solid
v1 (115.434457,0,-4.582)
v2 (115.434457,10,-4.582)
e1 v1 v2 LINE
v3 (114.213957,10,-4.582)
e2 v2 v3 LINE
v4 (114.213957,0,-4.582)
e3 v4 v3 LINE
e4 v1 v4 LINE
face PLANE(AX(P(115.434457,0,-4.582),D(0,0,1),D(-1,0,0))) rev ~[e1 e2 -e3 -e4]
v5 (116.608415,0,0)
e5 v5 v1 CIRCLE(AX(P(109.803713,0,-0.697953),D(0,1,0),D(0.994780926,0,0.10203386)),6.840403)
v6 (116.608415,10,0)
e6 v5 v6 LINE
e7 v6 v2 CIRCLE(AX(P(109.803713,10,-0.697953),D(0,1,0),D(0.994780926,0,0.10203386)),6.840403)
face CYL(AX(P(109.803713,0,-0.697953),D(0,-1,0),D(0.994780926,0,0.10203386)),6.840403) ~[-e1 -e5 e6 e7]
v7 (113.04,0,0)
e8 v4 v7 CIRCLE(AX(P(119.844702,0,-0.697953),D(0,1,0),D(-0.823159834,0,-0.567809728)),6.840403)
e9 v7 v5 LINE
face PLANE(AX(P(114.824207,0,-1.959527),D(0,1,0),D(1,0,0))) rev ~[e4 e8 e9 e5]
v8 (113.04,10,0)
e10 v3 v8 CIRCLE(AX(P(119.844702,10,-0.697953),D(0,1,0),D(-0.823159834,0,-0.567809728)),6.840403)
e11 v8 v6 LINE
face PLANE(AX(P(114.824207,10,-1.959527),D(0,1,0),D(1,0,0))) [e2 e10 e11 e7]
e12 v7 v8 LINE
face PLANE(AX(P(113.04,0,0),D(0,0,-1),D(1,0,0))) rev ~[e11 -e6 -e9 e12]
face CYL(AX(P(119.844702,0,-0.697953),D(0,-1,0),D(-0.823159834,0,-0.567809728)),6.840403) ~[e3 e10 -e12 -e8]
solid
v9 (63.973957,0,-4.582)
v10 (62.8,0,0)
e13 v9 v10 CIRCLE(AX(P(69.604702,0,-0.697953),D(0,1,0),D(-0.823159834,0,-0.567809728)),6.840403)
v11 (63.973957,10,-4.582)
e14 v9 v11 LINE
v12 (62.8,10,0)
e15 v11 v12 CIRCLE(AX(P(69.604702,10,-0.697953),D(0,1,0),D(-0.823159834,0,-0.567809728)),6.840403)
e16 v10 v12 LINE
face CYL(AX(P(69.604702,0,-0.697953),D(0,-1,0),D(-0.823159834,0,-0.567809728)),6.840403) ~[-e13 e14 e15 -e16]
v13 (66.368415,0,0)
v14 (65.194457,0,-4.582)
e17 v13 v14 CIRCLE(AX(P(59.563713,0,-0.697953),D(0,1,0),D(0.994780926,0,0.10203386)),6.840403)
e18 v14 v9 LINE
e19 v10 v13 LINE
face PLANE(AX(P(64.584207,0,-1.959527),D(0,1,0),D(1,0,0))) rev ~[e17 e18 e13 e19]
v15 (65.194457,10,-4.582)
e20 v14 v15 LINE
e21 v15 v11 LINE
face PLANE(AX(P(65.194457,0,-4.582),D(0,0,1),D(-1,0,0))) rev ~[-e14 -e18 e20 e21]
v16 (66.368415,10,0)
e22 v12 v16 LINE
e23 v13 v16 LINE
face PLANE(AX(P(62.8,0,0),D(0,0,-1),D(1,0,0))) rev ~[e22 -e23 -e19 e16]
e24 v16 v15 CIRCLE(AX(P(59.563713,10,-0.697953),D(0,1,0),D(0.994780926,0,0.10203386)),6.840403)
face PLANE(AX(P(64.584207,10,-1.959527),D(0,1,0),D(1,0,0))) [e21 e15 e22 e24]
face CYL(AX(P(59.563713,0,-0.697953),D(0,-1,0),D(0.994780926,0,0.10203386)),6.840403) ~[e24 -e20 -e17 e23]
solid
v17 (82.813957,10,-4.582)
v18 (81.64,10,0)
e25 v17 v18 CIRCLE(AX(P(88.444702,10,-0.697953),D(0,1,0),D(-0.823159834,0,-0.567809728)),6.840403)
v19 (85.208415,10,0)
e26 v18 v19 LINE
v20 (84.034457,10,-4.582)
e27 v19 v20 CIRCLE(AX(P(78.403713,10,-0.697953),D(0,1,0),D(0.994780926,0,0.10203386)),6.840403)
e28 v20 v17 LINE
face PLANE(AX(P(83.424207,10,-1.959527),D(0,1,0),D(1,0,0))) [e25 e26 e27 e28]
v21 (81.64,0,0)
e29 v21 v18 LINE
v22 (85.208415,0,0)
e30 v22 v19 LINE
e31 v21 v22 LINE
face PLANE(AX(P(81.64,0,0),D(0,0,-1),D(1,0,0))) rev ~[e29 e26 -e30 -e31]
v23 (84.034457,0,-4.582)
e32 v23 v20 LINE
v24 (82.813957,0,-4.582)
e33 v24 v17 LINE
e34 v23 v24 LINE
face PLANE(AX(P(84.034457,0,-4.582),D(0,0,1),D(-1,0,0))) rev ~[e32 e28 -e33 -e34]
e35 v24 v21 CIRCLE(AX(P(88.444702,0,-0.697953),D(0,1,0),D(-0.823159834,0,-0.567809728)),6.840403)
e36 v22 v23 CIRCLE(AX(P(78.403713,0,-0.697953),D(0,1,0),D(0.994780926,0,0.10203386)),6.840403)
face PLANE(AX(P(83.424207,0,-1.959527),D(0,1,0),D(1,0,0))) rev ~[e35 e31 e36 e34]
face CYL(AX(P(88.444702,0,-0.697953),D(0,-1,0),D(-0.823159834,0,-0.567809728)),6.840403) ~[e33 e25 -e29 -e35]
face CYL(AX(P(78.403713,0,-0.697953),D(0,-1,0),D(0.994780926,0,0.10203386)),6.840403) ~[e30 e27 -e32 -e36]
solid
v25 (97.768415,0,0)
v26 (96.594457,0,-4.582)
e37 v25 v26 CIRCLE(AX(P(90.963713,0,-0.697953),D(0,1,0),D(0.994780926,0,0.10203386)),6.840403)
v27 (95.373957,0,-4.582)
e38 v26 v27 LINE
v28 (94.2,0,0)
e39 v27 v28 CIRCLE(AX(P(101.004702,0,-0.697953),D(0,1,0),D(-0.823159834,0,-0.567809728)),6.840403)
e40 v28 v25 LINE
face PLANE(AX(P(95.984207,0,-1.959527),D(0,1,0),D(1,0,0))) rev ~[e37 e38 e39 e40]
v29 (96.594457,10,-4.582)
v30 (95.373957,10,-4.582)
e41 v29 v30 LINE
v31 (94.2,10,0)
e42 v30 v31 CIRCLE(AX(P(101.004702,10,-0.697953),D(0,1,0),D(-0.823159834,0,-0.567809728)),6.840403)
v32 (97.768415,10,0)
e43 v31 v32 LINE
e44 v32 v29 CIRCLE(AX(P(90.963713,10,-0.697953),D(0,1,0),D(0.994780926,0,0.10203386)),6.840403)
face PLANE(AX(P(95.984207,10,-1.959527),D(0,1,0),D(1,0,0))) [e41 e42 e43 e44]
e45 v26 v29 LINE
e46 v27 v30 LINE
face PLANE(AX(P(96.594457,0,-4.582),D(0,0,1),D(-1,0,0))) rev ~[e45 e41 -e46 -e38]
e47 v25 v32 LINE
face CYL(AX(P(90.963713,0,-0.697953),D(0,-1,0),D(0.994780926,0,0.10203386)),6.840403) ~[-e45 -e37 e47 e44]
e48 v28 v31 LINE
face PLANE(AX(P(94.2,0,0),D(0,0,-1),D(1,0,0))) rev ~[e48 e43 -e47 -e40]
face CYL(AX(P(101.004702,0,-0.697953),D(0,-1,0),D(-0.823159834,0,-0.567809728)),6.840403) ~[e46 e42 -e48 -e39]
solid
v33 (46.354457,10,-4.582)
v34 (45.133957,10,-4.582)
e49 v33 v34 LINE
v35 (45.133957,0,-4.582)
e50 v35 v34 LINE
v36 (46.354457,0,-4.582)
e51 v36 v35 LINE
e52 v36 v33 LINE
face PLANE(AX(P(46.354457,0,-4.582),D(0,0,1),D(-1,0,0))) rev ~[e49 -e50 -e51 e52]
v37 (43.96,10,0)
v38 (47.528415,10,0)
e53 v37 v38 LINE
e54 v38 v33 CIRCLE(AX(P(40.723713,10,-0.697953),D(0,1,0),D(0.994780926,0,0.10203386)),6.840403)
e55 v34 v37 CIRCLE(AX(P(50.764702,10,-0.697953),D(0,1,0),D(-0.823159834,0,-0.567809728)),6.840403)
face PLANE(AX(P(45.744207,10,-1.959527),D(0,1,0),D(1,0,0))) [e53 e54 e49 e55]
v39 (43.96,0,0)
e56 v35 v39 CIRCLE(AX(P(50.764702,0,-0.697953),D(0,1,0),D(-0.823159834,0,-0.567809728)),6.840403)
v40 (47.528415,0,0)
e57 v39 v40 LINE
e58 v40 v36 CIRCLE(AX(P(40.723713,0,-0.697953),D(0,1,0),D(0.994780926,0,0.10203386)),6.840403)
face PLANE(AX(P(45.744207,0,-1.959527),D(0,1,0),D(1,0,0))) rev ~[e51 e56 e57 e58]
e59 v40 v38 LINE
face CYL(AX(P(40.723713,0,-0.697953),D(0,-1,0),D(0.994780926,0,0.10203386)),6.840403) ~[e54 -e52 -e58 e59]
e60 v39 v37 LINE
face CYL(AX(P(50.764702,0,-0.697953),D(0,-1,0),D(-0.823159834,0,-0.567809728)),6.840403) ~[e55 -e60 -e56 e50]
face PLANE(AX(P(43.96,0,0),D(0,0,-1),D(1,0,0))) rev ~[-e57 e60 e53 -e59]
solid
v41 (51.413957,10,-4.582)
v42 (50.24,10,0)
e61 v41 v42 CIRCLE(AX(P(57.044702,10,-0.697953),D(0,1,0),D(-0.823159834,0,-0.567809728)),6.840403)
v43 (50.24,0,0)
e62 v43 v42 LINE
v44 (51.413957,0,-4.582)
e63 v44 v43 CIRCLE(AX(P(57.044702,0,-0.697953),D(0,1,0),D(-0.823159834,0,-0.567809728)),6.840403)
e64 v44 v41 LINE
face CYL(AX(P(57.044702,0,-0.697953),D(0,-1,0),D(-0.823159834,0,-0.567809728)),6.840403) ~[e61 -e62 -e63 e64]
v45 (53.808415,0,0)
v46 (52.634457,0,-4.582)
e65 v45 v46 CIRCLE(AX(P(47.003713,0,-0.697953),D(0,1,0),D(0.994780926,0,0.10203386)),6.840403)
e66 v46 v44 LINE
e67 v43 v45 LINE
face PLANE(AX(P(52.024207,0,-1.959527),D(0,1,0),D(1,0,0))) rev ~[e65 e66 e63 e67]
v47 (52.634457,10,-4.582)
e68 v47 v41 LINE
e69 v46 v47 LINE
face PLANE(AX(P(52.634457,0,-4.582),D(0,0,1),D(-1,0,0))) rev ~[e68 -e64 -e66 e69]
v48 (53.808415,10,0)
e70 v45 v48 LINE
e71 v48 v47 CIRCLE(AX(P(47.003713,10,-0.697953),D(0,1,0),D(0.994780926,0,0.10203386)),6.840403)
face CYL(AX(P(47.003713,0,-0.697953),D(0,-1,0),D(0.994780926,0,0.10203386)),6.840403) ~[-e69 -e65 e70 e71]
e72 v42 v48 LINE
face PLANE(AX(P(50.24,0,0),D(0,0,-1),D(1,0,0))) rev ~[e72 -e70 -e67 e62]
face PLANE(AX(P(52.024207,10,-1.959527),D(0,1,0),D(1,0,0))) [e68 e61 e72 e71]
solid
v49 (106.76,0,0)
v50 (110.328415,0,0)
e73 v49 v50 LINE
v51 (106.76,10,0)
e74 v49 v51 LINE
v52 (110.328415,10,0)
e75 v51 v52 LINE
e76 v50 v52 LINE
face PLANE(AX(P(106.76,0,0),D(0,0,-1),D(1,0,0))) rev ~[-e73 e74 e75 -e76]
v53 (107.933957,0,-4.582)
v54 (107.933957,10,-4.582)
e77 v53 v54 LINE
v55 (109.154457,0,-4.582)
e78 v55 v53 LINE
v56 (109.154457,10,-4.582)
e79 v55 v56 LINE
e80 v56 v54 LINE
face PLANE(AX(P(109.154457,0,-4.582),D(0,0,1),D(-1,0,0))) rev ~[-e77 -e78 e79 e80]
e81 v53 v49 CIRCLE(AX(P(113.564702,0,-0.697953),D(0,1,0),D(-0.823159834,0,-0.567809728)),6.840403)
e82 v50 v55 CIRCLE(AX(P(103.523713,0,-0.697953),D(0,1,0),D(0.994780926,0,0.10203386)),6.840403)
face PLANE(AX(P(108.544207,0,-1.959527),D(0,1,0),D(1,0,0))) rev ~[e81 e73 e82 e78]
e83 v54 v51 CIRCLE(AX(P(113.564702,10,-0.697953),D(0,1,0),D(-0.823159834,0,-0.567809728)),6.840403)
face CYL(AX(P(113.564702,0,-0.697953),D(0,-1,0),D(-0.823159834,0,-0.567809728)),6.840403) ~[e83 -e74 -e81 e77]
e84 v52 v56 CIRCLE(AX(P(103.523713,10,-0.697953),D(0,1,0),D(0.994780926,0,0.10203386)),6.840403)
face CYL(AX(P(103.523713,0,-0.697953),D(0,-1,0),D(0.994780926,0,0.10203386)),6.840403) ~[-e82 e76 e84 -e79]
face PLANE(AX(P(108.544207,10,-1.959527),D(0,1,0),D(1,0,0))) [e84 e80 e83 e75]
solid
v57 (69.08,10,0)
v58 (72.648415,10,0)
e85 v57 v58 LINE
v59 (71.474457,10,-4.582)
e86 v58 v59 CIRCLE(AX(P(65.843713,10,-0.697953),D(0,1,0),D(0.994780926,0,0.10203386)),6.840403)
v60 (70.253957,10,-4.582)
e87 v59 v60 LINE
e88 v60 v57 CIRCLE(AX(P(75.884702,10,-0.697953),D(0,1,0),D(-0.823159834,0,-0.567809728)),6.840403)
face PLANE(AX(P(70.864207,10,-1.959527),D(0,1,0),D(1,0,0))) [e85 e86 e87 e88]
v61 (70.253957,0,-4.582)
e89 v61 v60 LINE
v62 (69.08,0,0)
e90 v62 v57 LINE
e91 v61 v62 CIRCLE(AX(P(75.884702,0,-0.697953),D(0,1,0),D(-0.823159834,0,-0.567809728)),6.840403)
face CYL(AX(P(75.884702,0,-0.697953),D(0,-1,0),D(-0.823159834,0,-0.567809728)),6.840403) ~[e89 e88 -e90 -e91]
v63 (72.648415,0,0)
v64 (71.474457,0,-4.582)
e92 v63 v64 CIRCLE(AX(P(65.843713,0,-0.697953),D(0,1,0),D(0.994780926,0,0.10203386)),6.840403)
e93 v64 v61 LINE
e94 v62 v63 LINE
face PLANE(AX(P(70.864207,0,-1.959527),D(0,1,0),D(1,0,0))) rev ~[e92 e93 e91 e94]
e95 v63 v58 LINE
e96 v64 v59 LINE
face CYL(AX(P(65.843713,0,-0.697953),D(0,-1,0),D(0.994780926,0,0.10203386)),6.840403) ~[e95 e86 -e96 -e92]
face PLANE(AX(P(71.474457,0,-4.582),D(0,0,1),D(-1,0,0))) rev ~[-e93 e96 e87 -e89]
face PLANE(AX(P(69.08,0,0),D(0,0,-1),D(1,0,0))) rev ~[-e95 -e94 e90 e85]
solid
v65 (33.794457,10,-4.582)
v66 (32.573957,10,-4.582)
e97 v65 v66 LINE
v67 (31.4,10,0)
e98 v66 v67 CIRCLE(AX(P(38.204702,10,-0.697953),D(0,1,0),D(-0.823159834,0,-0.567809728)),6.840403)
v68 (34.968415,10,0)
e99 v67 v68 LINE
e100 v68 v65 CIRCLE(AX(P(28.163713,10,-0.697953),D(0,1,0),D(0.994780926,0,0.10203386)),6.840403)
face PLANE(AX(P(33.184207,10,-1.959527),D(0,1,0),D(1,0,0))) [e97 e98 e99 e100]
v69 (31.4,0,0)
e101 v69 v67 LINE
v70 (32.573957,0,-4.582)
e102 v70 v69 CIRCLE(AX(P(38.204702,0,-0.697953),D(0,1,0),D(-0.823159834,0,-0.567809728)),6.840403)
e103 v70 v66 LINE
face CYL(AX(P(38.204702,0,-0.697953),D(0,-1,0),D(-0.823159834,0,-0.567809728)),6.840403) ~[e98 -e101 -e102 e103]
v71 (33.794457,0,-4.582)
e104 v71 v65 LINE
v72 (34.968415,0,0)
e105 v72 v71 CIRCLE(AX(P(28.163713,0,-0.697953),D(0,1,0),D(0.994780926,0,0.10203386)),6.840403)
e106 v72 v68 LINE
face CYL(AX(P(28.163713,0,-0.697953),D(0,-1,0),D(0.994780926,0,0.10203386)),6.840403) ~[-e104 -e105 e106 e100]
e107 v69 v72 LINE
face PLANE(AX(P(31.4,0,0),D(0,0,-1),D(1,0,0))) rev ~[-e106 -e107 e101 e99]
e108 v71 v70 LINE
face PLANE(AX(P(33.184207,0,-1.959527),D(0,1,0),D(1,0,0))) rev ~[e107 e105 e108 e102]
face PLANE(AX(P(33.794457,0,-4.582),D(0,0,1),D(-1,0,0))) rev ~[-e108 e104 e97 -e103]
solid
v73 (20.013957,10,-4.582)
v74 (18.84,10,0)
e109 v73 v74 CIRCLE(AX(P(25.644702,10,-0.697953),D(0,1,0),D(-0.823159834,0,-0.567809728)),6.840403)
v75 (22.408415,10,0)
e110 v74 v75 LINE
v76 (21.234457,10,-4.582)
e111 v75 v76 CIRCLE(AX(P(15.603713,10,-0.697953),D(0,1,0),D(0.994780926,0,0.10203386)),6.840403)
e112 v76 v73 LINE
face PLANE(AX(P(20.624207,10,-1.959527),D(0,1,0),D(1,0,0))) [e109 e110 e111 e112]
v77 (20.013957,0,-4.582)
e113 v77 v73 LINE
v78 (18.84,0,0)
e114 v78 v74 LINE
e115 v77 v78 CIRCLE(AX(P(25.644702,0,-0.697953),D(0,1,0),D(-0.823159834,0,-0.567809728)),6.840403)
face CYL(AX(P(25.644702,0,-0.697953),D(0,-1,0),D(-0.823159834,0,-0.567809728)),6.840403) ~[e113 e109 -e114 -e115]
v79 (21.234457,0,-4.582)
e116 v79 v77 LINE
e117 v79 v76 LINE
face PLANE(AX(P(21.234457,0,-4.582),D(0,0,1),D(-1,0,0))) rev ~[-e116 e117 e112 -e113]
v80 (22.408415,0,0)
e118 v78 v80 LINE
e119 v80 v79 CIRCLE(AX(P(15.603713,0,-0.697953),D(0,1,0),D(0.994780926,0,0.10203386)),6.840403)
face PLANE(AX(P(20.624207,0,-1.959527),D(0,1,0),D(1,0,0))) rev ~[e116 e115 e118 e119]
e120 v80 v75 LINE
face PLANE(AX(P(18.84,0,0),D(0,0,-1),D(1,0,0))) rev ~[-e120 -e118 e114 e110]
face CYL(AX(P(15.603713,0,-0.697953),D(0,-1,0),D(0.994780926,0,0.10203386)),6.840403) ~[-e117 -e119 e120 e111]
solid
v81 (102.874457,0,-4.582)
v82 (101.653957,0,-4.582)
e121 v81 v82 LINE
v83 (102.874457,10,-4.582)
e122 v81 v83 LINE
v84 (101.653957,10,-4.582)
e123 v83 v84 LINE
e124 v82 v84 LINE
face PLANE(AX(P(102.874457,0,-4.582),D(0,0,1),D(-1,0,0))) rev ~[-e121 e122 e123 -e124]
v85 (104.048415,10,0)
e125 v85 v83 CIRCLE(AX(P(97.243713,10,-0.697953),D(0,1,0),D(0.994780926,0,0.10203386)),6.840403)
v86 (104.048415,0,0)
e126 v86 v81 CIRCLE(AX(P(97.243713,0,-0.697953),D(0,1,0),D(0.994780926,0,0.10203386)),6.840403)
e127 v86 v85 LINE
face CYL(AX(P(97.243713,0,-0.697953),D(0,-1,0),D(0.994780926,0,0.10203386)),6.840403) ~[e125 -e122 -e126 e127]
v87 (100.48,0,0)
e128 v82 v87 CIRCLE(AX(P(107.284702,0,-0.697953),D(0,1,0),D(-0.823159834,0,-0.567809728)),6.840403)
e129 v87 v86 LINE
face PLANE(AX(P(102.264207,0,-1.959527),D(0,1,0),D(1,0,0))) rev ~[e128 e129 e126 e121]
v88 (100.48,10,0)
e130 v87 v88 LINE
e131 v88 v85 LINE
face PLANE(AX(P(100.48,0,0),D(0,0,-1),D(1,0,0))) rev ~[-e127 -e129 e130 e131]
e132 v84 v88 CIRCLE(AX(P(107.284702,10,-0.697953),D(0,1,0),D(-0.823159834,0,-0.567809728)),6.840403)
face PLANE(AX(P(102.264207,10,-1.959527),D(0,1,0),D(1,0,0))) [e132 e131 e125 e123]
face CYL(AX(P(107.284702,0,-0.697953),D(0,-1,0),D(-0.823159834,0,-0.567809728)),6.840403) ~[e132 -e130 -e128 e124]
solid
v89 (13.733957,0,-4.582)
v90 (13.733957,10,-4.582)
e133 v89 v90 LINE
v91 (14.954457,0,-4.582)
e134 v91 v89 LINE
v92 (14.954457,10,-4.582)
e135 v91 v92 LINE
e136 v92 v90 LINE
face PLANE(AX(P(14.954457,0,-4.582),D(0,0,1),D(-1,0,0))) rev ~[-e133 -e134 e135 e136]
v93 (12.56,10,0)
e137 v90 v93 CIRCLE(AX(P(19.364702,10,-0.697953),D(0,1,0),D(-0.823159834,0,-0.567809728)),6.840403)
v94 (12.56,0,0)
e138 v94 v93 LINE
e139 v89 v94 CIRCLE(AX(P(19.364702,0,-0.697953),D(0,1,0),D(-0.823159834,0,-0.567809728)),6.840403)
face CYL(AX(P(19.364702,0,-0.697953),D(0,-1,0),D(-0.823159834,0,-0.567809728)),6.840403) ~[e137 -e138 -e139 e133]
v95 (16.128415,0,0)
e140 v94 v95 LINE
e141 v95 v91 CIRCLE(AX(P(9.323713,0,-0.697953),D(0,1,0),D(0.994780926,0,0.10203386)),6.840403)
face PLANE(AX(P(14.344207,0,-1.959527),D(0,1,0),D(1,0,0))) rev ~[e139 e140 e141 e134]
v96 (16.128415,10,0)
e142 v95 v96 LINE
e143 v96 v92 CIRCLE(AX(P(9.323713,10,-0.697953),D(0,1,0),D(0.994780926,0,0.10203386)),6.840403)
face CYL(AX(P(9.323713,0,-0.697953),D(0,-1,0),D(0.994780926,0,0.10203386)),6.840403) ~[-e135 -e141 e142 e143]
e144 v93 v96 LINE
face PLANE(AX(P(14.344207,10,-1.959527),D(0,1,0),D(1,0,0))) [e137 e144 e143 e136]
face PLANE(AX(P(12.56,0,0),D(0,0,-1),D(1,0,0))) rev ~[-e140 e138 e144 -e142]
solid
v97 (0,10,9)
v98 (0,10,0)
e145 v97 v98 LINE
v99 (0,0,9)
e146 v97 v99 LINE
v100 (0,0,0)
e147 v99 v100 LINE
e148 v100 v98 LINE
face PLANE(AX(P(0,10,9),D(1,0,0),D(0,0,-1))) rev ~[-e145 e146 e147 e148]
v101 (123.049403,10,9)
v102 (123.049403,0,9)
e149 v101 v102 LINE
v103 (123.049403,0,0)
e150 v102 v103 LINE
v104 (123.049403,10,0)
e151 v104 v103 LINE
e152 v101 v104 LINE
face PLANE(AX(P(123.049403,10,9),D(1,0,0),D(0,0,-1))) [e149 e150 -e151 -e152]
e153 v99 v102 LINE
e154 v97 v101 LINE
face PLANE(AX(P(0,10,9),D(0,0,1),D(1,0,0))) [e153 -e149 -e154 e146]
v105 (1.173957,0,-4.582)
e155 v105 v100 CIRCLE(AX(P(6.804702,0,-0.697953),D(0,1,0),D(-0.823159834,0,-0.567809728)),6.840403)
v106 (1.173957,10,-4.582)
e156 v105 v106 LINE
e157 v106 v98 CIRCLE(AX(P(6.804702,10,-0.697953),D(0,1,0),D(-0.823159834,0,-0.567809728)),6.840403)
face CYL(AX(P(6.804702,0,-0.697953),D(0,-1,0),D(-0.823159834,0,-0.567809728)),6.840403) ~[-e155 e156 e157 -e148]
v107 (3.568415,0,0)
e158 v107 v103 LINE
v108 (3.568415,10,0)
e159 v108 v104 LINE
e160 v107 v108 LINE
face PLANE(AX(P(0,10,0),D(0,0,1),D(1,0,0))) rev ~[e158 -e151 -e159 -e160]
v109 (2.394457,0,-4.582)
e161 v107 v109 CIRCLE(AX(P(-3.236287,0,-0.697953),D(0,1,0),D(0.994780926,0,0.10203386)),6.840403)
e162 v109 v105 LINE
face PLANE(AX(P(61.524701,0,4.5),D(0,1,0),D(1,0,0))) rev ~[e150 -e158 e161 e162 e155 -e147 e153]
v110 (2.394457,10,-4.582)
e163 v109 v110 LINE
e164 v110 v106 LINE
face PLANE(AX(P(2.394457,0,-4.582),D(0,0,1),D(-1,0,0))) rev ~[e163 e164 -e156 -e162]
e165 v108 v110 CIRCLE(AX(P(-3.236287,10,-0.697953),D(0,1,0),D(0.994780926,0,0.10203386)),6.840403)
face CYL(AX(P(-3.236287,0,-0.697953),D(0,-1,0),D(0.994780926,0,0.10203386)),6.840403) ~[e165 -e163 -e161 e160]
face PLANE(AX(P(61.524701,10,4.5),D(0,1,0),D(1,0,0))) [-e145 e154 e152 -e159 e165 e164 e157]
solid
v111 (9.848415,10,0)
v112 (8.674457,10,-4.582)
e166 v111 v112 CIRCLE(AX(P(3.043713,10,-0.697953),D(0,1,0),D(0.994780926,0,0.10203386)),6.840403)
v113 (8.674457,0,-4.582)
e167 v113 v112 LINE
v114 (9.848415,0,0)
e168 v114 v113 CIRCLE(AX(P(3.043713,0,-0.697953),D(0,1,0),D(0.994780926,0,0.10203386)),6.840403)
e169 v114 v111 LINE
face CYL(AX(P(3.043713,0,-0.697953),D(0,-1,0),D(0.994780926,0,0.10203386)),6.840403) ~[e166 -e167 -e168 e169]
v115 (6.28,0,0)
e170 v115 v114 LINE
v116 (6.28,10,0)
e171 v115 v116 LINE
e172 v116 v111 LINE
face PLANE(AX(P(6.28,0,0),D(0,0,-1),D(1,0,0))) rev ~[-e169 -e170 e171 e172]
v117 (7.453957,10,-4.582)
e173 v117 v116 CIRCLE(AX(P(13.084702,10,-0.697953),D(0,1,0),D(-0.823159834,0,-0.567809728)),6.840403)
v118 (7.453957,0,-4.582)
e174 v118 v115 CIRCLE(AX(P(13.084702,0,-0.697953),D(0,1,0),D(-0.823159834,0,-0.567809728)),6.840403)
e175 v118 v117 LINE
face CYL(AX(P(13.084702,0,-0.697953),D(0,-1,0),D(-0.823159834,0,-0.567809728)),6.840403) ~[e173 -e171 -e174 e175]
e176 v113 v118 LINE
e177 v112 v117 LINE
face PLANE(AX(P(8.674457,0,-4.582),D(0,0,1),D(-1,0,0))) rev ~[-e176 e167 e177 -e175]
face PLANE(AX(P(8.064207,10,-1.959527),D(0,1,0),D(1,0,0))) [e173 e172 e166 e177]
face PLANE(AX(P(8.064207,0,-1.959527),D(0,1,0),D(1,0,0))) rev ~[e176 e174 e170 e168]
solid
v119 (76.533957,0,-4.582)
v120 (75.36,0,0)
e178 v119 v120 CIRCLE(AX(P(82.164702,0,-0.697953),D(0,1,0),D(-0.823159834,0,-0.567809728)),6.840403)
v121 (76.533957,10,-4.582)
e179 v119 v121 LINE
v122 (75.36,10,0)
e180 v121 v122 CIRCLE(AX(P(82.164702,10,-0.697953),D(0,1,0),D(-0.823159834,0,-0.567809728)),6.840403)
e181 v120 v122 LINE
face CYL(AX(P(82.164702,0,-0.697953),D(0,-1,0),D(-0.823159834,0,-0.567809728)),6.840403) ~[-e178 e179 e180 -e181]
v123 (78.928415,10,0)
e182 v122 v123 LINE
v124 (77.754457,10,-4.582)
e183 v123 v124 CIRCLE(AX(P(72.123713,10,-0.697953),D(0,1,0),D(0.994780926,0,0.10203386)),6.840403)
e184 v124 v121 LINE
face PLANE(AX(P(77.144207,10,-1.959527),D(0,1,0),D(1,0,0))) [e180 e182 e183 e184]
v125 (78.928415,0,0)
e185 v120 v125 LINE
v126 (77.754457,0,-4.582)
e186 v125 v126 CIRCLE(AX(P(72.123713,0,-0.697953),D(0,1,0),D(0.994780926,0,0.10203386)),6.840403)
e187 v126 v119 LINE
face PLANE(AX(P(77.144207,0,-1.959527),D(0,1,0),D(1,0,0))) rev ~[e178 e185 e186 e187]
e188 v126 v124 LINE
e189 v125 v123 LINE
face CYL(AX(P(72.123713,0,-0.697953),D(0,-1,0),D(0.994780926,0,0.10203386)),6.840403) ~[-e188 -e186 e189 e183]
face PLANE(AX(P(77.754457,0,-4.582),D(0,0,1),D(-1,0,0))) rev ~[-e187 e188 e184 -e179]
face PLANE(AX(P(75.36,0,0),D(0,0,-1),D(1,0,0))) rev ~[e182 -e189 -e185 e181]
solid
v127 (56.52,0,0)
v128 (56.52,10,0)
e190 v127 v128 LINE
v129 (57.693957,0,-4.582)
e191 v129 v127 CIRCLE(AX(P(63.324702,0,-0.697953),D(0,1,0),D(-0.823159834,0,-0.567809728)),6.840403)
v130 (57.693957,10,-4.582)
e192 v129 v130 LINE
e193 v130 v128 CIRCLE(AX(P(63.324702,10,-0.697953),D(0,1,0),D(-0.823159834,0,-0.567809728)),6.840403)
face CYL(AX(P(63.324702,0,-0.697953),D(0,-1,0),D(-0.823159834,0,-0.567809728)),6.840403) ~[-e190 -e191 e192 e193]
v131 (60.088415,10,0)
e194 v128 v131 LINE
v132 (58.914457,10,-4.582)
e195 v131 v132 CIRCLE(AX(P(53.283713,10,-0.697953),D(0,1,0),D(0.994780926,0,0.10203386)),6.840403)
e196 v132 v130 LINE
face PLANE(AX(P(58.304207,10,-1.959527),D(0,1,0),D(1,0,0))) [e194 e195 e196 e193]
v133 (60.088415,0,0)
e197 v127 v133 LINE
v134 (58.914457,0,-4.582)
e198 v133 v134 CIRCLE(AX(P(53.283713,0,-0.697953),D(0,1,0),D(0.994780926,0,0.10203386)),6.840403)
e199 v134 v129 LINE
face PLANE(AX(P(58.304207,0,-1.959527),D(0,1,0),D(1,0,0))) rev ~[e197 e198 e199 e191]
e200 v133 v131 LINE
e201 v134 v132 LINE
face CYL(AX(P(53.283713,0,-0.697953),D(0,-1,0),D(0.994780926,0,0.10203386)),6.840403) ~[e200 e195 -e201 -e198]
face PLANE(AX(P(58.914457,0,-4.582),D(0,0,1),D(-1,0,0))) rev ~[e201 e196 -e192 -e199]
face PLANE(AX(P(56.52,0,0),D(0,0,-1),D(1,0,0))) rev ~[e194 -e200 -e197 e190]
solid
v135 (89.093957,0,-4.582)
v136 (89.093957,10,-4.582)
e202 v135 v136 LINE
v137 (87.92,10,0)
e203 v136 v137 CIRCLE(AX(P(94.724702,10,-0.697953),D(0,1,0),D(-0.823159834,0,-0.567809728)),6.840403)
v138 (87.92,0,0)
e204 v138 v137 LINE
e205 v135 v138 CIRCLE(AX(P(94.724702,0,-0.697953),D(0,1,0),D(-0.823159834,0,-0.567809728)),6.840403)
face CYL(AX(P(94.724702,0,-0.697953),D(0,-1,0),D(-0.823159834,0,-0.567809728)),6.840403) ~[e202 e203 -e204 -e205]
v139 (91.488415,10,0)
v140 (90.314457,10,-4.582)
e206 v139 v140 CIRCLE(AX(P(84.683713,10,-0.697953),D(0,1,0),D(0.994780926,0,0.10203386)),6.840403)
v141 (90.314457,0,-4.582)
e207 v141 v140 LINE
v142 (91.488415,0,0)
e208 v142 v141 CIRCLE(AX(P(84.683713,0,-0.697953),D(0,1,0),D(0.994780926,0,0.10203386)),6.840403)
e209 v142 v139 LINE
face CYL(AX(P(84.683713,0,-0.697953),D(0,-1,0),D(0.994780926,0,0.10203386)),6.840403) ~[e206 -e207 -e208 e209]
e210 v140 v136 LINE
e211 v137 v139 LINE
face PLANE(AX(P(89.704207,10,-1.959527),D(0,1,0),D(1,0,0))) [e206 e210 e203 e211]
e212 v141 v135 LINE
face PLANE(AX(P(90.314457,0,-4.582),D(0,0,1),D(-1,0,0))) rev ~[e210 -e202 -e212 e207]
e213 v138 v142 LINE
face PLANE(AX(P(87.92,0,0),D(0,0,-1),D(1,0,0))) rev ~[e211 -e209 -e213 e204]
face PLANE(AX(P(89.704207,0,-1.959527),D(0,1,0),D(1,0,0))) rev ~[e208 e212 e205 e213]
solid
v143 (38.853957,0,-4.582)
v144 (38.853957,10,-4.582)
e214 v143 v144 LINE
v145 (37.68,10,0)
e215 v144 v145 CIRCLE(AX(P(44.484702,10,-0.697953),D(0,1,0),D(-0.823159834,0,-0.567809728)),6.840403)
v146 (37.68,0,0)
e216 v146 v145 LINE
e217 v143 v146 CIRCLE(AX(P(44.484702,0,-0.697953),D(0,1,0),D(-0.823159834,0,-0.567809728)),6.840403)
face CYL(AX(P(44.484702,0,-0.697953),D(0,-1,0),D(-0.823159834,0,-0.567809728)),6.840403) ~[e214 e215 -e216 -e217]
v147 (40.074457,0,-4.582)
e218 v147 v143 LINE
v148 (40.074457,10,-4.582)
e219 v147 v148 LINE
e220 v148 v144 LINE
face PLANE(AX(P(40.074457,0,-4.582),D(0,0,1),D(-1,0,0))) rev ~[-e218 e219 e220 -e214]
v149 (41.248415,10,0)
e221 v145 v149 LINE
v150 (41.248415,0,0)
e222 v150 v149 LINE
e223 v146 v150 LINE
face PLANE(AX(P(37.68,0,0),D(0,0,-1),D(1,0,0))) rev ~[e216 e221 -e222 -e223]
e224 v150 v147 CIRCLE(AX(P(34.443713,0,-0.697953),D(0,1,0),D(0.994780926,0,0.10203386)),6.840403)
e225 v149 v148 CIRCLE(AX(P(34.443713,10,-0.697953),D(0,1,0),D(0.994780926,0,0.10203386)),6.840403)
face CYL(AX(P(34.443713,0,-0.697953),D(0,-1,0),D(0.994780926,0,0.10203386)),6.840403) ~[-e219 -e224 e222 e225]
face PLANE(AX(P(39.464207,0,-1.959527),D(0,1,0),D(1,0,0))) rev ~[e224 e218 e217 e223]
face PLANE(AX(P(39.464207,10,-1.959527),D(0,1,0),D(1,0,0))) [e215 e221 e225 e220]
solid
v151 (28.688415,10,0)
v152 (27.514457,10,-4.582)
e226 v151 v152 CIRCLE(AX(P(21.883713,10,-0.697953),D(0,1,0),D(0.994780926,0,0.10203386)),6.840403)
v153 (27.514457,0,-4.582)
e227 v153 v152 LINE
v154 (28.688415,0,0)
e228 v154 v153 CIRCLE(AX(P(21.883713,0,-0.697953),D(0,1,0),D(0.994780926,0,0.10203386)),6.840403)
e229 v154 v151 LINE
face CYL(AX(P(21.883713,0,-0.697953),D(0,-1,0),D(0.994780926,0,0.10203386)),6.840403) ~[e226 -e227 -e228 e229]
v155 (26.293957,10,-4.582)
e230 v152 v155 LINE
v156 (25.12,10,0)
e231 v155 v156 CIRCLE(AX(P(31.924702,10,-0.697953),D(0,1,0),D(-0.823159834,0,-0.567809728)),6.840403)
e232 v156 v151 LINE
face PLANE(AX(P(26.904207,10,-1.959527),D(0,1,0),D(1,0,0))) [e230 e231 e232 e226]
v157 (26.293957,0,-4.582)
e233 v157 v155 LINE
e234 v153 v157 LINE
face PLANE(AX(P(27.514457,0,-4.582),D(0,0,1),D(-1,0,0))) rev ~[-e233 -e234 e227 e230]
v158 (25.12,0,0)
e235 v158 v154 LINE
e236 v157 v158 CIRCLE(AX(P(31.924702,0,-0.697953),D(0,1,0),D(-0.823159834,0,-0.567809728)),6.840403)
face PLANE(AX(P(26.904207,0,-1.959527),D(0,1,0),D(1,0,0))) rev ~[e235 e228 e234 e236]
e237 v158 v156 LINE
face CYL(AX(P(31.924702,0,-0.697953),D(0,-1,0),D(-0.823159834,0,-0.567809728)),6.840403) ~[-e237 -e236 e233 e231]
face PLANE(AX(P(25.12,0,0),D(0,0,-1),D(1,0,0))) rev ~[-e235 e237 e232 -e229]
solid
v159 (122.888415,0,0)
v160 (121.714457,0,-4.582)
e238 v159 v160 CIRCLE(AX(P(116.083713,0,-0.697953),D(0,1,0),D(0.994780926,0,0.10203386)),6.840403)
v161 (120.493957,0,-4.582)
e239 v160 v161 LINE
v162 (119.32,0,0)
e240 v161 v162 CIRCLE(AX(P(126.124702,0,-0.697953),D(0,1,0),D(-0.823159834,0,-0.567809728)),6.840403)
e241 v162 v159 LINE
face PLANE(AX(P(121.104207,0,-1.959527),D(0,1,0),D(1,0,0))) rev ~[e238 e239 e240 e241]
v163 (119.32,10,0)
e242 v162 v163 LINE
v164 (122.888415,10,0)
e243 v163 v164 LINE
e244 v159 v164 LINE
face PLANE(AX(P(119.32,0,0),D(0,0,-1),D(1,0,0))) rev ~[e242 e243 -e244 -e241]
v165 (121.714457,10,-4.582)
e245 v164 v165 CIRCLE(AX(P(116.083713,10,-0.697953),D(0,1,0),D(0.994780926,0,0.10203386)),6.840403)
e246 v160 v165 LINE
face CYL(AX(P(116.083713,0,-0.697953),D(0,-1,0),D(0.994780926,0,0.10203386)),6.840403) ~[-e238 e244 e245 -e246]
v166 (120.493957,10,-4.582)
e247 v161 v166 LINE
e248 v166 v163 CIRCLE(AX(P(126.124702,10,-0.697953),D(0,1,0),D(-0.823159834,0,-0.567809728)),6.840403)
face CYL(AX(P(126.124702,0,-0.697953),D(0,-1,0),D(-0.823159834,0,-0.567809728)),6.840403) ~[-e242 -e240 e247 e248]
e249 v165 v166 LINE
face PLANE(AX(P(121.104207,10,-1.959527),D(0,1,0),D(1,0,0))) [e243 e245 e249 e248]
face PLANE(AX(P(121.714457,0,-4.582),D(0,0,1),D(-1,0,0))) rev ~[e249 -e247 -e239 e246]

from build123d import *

# Parameters (mm, degrees)
EXTRUDE_1_DEPTH    = 10
EXTRUDE_1_2_DEPTH  = 10
EXTRUDE_1_3_DEPTH  = 10
EXTRUDE_1_4_DEPTH  = 10
EXTRUDE_1_5_DEPTH  = 10
EXTRUDE_1_6_DEPTH  = 10
EXTRUDE_1_7_DEPTH  = 10
EXTRUDE_1_8_DEPTH  = 10
EXTRUDE_1_9_DEPTH  = 10
EXTRUDE_1_10_DEPTH = 10
EXTRUDE_1_11_DEPTH = 10
EXTRUDE_1_12_DEPTH = 10
EXTRUDE_1_13_DEPTH = 10
EXTRUDE_1_14_DEPTH = 10
EXTRUDE_1_15_DEPTH = 10
EXTRUDE_1_16_DEPTH = 10
EXTRUDE_1_17_DEPTH = 10
EXTRUDE_1_18_DEPTH = 10
EXTRUDE_1_19_DEPTH = 10
EXTRUDE_1_20_DEPTH = 10
SKETCH_2_W         = 123.049402761
SKETCH_2_H         = 9
EXTRUDE_2_DEPTH    = 10


with BuildPart() as part:
    # 草图1 → 凸台-拉伸1 (new body)
    with BuildSketch(Plane(origin=(0, 0, 0), x_dir=(1, 0, 0), z_dir=(0, 1, 0))):
        with BuildLine():
            Line((0, 0), (3.56841482, 0))
            ThreePointArc((3.56841482, 0), (3.390081639, 2.395699354), (2.39445741, 4.582))
            Line((2.39445741, 4.582), (1.17395741, 4.582))
            ThreePointArc((1.17395741, 4.582), (0.178333181, 2.395699354), (0, 0))
        make_face()
    extrude(amount=EXTRUDE_1_DEPTH)

    # 草图2 → 凸台-拉伸2 (add)
    with BuildSketch(Plane(origin=(0, 10, 0), x_dir=(1, 0, 0), z_dir=(0, 1, 0))):
        with Locations((61.524701381, -4.5)):
            Rectangle(SKETCH_2_W, SKETCH_2_H)
    extrude(amount=-EXTRUDE_2_DEPTH)


with BuildPart() as body_2:
    # 草图1 → Extrude 1 2 (new body)
    with BuildSketch(Plane(origin=(0, 0, 0), x_dir=(1, 0, 0), z_dir=(0, 1, 0))):
        with BuildLine():
            Line((6.28, 0), (9.84841482, 0))
            ThreePointArc((9.84841482, 0), (9.670081639, 2.395699354), (8.67445741, 4.582))
            Line((8.67445741, 4.582), (7.45395741, 4.582))
            ThreePointArc((7.45395741, 4.582), (6.458333181, 2.395699354), (6.28, 0))
        make_face()
    extrude(amount=EXTRUDE_1_2_DEPTH)


with BuildPart() as body_3:
    # 草图1 → Extrude 1 3 (new body)
    with BuildSketch(Plane(origin=(0, 0, 0), x_dir=(1, 0, 0), z_dir=(0, 1, 0))):
        with BuildLine():
            Line((12.56, 0), (16.12841482, 0))
            ThreePointArc((16.12841482, 0), (15.950081639, 2.395699354), (14.95445741, 4.582))
            Line((14.95445741, 4.582), (13.73395741, 4.582))
            ThreePointArc((13.73395741, 4.582), (12.738333181, 2.395699354), (12.56, 0))
        make_face()
    extrude(amount=EXTRUDE_1_3_DEPTH)


with BuildPart() as body_4:
    # 草图1 → Extrude 1 4 (new body)
    with BuildSketch(Plane(origin=(0, 0, 0), x_dir=(1, 0, 0), z_dir=(0, 1, 0))):
        with BuildLine():
            Line((18.84, 0), (22.40841482, 0))
            ThreePointArc((22.40841482, 0), (22.230081639, 2.395699354), (21.23445741, 4.582))
            Line((21.23445741, 4.582), (20.01395741, 4.582))
            ThreePointArc((20.01395741, 4.582), (19.018333181, 2.395699354), (18.84, 0))
        make_face()
    extrude(amount=EXTRUDE_1_4_DEPTH)


with BuildPart() as body_5:
    # 草图1 → Extrude 1 5 (new body)
    with BuildSketch(Plane(origin=(0, 0, 0), x_dir=(1, 0, 0), z_dir=(0, 1, 0))):
        with BuildLine():
            Line((25.12, 0), (28.68841482, 0))
            ThreePointArc((28.68841482, 0), (28.510081639, 2.395699354), (27.51445741, 4.582))
            Line((27.51445741, 4.582), (26.29395741, 4.582))
            ThreePointArc((26.29395741, 4.582), (25.298333181, 2.395699354), (25.12, 0))
        make_face()
    extrude(amount=EXTRUDE_1_5_DEPTH)


with BuildPart() as body_6:
    # 草图1 → Extrude 1 6 (new body)
    with BuildSketch(Plane(origin=(0, 0, 0), x_dir=(1, 0, 0), z_dir=(0, 1, 0))):
        with BuildLine():
            Line((31.4, 0), (34.96841482, 0))
            ThreePointArc((34.96841482, 0), (34.790081639, 2.395699354), (33.79445741, 4.582))
            Line((33.79445741, 4.582), (32.57395741, 4.582))
            ThreePointArc((32.57395741, 4.582), (31.578333181, 2.395699354), (31.4, 0))
        make_face()
    extrude(amount=EXTRUDE_1_6_DEPTH)


with BuildPart() as body_7:
    # 草图1 → Extrude 1 7 (new body)
    with BuildSketch(Plane(origin=(0, 0, 0), x_dir=(1, 0, 0), z_dir=(0, 1, 0))):
        with BuildLine():
            Line((37.68, 0), (41.24841482, 0))
            ThreePointArc((41.24841482, 0), (41.070081639, 2.395699354), (40.07445741, 4.582))
            Line((40.07445741, 4.582), (38.85395741, 4.582))
            ThreePointArc((38.85395741, 4.582), (37.858333181, 2.395699354), (37.68, 0))
        make_face()
    extrude(amount=EXTRUDE_1_7_DEPTH)


with BuildPart() as body_8:
    # 草图1 → Extrude 1 8 (new body)
    with BuildSketch(Plane(origin=(0, 0, 0), x_dir=(1, 0, 0), z_dir=(0, 1, 0))):
        with BuildLine():
            Line((43.96, 0), (47.52841482, 0))
            ThreePointArc((47.52841482, 0), (47.350081639, 2.395699354), (46.35445741, 4.582))
            Line((46.35445741, 4.582), (45.13395741, 4.582))
            ThreePointArc((45.13395741, 4.582), (44.138333181, 2.395699354), (43.96, 0))
        make_face()
    extrude(amount=EXTRUDE_1_8_DEPTH)


with BuildPart() as body_9:
    # 草图1 → Extrude 1 9 (new body)
    with BuildSketch(Plane(origin=(0, 0, 0), x_dir=(1, 0, 0), z_dir=(0, 1, 0))):
        with BuildLine():
            Line((50.24, 0), (53.80841482, 0))
            ThreePointArc((53.80841482, 0), (53.630081639, 2.395699354), (52.63445741, 4.582))
            Line((52.63445741, 4.582), (51.41395741, 4.582))
            ThreePointArc((51.41395741, 4.582), (50.418333181, 2.395699354), (50.24, 0))
        make_face()
    extrude(amount=EXTRUDE_1_9_DEPTH)


with BuildPart() as body_10:
    # 草图1 → Extrude 1 10 (new body)
    with BuildSketch(Plane(origin=(0, 0, 0), x_dir=(1, 0, 0), z_dir=(0, 1, 0))):
        with BuildLine():
            Line((56.52, 0), (60.08841482, 0))
            ThreePointArc((60.08841482, 0), (59.910081639, 2.395699354), (58.91445741, 4.582))
            Line((58.91445741, 4.582), (57.69395741, 4.582))
            ThreePointArc((57.69395741, 4.582), (56.698333181, 2.395699354), (56.52, 0))
        make_face()
    extrude(amount=EXTRUDE_1_10_DEPTH)


with BuildPart() as body_11:
    # 草图1 → Extrude 1 11 (new body)
    with BuildSketch(Plane(origin=(0, 0, 0), x_dir=(1, 0, 0), z_dir=(0, 1, 0))):
        with BuildLine():
            Line((62.8, 0), (66.36841482, 0))
            ThreePointArc((66.36841482, 0), (66.190081639, 2.395699354), (65.19445741, 4.582))
            Line((65.19445741, 4.582), (63.97395741, 4.582))
            ThreePointArc((63.97395741, 4.582), (62.978333181, 2.395699354), (62.8, 0))
        make_face()
    extrude(amount=EXTRUDE_1_11_DEPTH)


with BuildPart() as body_12:
    # 草图1 → Extrude 1 12 (new body)
    with BuildSketch(Plane(origin=(0, 0, 0), x_dir=(1, 0, 0), z_dir=(0, 1, 0))):
        with BuildLine():
            Line((69.08, 0), (72.64841482, 0))
            ThreePointArc((72.64841482, 0), (72.470081639, 2.395699354), (71.47445741, 4.582))
            Line((71.47445741, 4.582), (70.25395741, 4.582))
            ThreePointArc((70.25395741, 4.582), (69.258333181, 2.395699354), (69.08, 0))
        make_face()
    extrude(amount=EXTRUDE_1_12_DEPTH)


with BuildPart() as body_13:
    # 草图1 → Extrude 1 13 (new body)
    with BuildSketch(Plane(origin=(0, 0, 0), x_dir=(1, 0, 0), z_dir=(0, 1, 0))):
        with BuildLine():
            Line((75.36, 0), (78.92841482, 0))
            ThreePointArc((78.92841482, 0), (78.750081639, 2.395699354), (77.75445741, 4.582))
            Line((77.75445741, 4.582), (76.53395741, 4.582))
            ThreePointArc((76.53395741, 4.582), (75.538333181, 2.395699354), (75.36, 0))
        make_face()
    extrude(amount=EXTRUDE_1_13_DEPTH)


with BuildPart() as body_14:
    # 草图1 → Extrude 1 14 (new body)
    with BuildSketch(Plane(origin=(0, 0, 0), x_dir=(1, 0, 0), z_dir=(0, 1, 0))):
        with BuildLine():
            Line((81.64, 0), (85.20841482, 0))
            ThreePointArc((85.20841482, 0), (85.030081639, 2.395699354), (84.03445741, 4.582))
            Line((84.03445741, 4.582), (82.81395741, 4.582))
            ThreePointArc((82.81395741, 4.582), (81.818333181, 2.395699354), (81.64, 0))
        make_face()
    extrude(amount=EXTRUDE_1_14_DEPTH)


with BuildPart() as body_15:
    # 草图1 → Extrude 1 15 (new body)
    with BuildSketch(Plane(origin=(0, 0, 0), x_dir=(1, 0, 0), z_dir=(0, 1, 0))):
        with BuildLine():
            Line((87.92, 0), (91.48841482, 0))
            ThreePointArc((91.48841482, 0), (91.310081639, 2.395699354), (90.31445741, 4.582))
            Line((90.31445741, 4.582), (89.09395741, 4.582))
            ThreePointArc((89.09395741, 4.582), (88.098333181, 2.395699354), (87.92, 0))
        make_face()
    extrude(amount=EXTRUDE_1_15_DEPTH)


with BuildPart() as body_16:
    # 草图1 → Extrude 1 16 (new body)
    with BuildSketch(Plane(origin=(0, 0, 0), x_dir=(1, 0, 0), z_dir=(0, 1, 0))):
        with BuildLine():
            Line((94.2, 0), (97.76841482, 0))
            ThreePointArc((97.76841482, 0), (97.590081639, 2.395699354), (96.59445741, 4.582))
            Line((96.59445741, 4.582), (95.37395741, 4.582))
            ThreePointArc((95.37395741, 4.582), (94.378333181, 2.395699354), (94.2, 0))
        make_face()
    extrude(amount=EXTRUDE_1_16_DEPTH)


with BuildPart() as body_17:
    # 草图1 → Extrude 1 17 (new body)
    with BuildSketch(Plane(origin=(0, 0, 0), x_dir=(1, 0, 0), z_dir=(0, 1, 0))):
        with BuildLine():
            Line((100.48, 0), (104.04841482, 0))
            ThreePointArc((104.04841482, 0), (103.870081639, 2.395699354), (102.87445741, 4.582))
            Line((102.87445741, 4.582), (101.65395741, 4.582))
            ThreePointArc((101.65395741, 4.582), (100.658333181, 2.395699354), (100.48, 0))
        make_face()
    extrude(amount=EXTRUDE_1_17_DEPTH)


with BuildPart() as body_18:
    # 草图1 → Extrude 1 18 (new body)
    with BuildSketch(Plane(origin=(0, 0, 0), x_dir=(1, 0, 0), z_dir=(0, 1, 0))):
        with BuildLine():
            Line((106.76, 0), (110.32841482, 0))
            ThreePointArc((110.32841482, 0), (110.150081639, 2.395699354), (109.15445741, 4.582))
            Line((109.15445741, 4.582), (107.93395741, 4.582))
            ThreePointArc((107.93395741, 4.582), (106.938333181, 2.395699354), (106.76, 0))
        make_face()
    extrude(amount=EXTRUDE_1_18_DEPTH)


with BuildPart() as body_19:
    # 草图1 → Extrude 1 19 (new body)
    with BuildSketch(Plane(origin=(0, 0, 0), x_dir=(1, 0, 0), z_dir=(0, 1, 0))):
        with BuildLine():
            Line((113.04, 0), (116.60841482, 0))
            ThreePointArc((116.60841482, 0), (116.430081639, 2.395699354), (115.43445741, 4.582))
            Line((115.43445741, 4.582), (114.21395741, 4.582))
            ThreePointArc((114.21395741, 4.582), (113.218333181, 2.395699354), (113.04, 0))
        make_face()
    extrude(amount=EXTRUDE_1_19_DEPTH)


with BuildPart() as body_20:
    # 草图1 → Extrude 1 20 (new body)
    with BuildSketch(Plane(origin=(0, 0, 0), x_dir=(1, 0, 0), z_dir=(0, 1, 0))):
        with BuildLine():
            Line((119.32, 0), (122.88841482, 0))
            ThreePointArc((122.88841482, 0), (122.710081639, 2.395699354), (121.71445741, 4.582))
            Line((121.71445741, 4.582), (120.49395741, 4.582))
            ThreePointArc((120.49395741, 4.582), (119.498333181, 2.395699354), (119.32, 0))
        make_face()
    extrude(amount=EXTRUDE_1_20_DEPTH)


solid = Compound([part.part, body_2.part, body_3.part, body_4.part, body_5.part, body_6.part, body_7.part, body_8.part, body_9.part, body_10.part, body_11.part, body_12.part, body_13.part, body_14.part, body_15.part, body_16.part, body_17.part, body_18.part, body_19.part, body_20.part])
